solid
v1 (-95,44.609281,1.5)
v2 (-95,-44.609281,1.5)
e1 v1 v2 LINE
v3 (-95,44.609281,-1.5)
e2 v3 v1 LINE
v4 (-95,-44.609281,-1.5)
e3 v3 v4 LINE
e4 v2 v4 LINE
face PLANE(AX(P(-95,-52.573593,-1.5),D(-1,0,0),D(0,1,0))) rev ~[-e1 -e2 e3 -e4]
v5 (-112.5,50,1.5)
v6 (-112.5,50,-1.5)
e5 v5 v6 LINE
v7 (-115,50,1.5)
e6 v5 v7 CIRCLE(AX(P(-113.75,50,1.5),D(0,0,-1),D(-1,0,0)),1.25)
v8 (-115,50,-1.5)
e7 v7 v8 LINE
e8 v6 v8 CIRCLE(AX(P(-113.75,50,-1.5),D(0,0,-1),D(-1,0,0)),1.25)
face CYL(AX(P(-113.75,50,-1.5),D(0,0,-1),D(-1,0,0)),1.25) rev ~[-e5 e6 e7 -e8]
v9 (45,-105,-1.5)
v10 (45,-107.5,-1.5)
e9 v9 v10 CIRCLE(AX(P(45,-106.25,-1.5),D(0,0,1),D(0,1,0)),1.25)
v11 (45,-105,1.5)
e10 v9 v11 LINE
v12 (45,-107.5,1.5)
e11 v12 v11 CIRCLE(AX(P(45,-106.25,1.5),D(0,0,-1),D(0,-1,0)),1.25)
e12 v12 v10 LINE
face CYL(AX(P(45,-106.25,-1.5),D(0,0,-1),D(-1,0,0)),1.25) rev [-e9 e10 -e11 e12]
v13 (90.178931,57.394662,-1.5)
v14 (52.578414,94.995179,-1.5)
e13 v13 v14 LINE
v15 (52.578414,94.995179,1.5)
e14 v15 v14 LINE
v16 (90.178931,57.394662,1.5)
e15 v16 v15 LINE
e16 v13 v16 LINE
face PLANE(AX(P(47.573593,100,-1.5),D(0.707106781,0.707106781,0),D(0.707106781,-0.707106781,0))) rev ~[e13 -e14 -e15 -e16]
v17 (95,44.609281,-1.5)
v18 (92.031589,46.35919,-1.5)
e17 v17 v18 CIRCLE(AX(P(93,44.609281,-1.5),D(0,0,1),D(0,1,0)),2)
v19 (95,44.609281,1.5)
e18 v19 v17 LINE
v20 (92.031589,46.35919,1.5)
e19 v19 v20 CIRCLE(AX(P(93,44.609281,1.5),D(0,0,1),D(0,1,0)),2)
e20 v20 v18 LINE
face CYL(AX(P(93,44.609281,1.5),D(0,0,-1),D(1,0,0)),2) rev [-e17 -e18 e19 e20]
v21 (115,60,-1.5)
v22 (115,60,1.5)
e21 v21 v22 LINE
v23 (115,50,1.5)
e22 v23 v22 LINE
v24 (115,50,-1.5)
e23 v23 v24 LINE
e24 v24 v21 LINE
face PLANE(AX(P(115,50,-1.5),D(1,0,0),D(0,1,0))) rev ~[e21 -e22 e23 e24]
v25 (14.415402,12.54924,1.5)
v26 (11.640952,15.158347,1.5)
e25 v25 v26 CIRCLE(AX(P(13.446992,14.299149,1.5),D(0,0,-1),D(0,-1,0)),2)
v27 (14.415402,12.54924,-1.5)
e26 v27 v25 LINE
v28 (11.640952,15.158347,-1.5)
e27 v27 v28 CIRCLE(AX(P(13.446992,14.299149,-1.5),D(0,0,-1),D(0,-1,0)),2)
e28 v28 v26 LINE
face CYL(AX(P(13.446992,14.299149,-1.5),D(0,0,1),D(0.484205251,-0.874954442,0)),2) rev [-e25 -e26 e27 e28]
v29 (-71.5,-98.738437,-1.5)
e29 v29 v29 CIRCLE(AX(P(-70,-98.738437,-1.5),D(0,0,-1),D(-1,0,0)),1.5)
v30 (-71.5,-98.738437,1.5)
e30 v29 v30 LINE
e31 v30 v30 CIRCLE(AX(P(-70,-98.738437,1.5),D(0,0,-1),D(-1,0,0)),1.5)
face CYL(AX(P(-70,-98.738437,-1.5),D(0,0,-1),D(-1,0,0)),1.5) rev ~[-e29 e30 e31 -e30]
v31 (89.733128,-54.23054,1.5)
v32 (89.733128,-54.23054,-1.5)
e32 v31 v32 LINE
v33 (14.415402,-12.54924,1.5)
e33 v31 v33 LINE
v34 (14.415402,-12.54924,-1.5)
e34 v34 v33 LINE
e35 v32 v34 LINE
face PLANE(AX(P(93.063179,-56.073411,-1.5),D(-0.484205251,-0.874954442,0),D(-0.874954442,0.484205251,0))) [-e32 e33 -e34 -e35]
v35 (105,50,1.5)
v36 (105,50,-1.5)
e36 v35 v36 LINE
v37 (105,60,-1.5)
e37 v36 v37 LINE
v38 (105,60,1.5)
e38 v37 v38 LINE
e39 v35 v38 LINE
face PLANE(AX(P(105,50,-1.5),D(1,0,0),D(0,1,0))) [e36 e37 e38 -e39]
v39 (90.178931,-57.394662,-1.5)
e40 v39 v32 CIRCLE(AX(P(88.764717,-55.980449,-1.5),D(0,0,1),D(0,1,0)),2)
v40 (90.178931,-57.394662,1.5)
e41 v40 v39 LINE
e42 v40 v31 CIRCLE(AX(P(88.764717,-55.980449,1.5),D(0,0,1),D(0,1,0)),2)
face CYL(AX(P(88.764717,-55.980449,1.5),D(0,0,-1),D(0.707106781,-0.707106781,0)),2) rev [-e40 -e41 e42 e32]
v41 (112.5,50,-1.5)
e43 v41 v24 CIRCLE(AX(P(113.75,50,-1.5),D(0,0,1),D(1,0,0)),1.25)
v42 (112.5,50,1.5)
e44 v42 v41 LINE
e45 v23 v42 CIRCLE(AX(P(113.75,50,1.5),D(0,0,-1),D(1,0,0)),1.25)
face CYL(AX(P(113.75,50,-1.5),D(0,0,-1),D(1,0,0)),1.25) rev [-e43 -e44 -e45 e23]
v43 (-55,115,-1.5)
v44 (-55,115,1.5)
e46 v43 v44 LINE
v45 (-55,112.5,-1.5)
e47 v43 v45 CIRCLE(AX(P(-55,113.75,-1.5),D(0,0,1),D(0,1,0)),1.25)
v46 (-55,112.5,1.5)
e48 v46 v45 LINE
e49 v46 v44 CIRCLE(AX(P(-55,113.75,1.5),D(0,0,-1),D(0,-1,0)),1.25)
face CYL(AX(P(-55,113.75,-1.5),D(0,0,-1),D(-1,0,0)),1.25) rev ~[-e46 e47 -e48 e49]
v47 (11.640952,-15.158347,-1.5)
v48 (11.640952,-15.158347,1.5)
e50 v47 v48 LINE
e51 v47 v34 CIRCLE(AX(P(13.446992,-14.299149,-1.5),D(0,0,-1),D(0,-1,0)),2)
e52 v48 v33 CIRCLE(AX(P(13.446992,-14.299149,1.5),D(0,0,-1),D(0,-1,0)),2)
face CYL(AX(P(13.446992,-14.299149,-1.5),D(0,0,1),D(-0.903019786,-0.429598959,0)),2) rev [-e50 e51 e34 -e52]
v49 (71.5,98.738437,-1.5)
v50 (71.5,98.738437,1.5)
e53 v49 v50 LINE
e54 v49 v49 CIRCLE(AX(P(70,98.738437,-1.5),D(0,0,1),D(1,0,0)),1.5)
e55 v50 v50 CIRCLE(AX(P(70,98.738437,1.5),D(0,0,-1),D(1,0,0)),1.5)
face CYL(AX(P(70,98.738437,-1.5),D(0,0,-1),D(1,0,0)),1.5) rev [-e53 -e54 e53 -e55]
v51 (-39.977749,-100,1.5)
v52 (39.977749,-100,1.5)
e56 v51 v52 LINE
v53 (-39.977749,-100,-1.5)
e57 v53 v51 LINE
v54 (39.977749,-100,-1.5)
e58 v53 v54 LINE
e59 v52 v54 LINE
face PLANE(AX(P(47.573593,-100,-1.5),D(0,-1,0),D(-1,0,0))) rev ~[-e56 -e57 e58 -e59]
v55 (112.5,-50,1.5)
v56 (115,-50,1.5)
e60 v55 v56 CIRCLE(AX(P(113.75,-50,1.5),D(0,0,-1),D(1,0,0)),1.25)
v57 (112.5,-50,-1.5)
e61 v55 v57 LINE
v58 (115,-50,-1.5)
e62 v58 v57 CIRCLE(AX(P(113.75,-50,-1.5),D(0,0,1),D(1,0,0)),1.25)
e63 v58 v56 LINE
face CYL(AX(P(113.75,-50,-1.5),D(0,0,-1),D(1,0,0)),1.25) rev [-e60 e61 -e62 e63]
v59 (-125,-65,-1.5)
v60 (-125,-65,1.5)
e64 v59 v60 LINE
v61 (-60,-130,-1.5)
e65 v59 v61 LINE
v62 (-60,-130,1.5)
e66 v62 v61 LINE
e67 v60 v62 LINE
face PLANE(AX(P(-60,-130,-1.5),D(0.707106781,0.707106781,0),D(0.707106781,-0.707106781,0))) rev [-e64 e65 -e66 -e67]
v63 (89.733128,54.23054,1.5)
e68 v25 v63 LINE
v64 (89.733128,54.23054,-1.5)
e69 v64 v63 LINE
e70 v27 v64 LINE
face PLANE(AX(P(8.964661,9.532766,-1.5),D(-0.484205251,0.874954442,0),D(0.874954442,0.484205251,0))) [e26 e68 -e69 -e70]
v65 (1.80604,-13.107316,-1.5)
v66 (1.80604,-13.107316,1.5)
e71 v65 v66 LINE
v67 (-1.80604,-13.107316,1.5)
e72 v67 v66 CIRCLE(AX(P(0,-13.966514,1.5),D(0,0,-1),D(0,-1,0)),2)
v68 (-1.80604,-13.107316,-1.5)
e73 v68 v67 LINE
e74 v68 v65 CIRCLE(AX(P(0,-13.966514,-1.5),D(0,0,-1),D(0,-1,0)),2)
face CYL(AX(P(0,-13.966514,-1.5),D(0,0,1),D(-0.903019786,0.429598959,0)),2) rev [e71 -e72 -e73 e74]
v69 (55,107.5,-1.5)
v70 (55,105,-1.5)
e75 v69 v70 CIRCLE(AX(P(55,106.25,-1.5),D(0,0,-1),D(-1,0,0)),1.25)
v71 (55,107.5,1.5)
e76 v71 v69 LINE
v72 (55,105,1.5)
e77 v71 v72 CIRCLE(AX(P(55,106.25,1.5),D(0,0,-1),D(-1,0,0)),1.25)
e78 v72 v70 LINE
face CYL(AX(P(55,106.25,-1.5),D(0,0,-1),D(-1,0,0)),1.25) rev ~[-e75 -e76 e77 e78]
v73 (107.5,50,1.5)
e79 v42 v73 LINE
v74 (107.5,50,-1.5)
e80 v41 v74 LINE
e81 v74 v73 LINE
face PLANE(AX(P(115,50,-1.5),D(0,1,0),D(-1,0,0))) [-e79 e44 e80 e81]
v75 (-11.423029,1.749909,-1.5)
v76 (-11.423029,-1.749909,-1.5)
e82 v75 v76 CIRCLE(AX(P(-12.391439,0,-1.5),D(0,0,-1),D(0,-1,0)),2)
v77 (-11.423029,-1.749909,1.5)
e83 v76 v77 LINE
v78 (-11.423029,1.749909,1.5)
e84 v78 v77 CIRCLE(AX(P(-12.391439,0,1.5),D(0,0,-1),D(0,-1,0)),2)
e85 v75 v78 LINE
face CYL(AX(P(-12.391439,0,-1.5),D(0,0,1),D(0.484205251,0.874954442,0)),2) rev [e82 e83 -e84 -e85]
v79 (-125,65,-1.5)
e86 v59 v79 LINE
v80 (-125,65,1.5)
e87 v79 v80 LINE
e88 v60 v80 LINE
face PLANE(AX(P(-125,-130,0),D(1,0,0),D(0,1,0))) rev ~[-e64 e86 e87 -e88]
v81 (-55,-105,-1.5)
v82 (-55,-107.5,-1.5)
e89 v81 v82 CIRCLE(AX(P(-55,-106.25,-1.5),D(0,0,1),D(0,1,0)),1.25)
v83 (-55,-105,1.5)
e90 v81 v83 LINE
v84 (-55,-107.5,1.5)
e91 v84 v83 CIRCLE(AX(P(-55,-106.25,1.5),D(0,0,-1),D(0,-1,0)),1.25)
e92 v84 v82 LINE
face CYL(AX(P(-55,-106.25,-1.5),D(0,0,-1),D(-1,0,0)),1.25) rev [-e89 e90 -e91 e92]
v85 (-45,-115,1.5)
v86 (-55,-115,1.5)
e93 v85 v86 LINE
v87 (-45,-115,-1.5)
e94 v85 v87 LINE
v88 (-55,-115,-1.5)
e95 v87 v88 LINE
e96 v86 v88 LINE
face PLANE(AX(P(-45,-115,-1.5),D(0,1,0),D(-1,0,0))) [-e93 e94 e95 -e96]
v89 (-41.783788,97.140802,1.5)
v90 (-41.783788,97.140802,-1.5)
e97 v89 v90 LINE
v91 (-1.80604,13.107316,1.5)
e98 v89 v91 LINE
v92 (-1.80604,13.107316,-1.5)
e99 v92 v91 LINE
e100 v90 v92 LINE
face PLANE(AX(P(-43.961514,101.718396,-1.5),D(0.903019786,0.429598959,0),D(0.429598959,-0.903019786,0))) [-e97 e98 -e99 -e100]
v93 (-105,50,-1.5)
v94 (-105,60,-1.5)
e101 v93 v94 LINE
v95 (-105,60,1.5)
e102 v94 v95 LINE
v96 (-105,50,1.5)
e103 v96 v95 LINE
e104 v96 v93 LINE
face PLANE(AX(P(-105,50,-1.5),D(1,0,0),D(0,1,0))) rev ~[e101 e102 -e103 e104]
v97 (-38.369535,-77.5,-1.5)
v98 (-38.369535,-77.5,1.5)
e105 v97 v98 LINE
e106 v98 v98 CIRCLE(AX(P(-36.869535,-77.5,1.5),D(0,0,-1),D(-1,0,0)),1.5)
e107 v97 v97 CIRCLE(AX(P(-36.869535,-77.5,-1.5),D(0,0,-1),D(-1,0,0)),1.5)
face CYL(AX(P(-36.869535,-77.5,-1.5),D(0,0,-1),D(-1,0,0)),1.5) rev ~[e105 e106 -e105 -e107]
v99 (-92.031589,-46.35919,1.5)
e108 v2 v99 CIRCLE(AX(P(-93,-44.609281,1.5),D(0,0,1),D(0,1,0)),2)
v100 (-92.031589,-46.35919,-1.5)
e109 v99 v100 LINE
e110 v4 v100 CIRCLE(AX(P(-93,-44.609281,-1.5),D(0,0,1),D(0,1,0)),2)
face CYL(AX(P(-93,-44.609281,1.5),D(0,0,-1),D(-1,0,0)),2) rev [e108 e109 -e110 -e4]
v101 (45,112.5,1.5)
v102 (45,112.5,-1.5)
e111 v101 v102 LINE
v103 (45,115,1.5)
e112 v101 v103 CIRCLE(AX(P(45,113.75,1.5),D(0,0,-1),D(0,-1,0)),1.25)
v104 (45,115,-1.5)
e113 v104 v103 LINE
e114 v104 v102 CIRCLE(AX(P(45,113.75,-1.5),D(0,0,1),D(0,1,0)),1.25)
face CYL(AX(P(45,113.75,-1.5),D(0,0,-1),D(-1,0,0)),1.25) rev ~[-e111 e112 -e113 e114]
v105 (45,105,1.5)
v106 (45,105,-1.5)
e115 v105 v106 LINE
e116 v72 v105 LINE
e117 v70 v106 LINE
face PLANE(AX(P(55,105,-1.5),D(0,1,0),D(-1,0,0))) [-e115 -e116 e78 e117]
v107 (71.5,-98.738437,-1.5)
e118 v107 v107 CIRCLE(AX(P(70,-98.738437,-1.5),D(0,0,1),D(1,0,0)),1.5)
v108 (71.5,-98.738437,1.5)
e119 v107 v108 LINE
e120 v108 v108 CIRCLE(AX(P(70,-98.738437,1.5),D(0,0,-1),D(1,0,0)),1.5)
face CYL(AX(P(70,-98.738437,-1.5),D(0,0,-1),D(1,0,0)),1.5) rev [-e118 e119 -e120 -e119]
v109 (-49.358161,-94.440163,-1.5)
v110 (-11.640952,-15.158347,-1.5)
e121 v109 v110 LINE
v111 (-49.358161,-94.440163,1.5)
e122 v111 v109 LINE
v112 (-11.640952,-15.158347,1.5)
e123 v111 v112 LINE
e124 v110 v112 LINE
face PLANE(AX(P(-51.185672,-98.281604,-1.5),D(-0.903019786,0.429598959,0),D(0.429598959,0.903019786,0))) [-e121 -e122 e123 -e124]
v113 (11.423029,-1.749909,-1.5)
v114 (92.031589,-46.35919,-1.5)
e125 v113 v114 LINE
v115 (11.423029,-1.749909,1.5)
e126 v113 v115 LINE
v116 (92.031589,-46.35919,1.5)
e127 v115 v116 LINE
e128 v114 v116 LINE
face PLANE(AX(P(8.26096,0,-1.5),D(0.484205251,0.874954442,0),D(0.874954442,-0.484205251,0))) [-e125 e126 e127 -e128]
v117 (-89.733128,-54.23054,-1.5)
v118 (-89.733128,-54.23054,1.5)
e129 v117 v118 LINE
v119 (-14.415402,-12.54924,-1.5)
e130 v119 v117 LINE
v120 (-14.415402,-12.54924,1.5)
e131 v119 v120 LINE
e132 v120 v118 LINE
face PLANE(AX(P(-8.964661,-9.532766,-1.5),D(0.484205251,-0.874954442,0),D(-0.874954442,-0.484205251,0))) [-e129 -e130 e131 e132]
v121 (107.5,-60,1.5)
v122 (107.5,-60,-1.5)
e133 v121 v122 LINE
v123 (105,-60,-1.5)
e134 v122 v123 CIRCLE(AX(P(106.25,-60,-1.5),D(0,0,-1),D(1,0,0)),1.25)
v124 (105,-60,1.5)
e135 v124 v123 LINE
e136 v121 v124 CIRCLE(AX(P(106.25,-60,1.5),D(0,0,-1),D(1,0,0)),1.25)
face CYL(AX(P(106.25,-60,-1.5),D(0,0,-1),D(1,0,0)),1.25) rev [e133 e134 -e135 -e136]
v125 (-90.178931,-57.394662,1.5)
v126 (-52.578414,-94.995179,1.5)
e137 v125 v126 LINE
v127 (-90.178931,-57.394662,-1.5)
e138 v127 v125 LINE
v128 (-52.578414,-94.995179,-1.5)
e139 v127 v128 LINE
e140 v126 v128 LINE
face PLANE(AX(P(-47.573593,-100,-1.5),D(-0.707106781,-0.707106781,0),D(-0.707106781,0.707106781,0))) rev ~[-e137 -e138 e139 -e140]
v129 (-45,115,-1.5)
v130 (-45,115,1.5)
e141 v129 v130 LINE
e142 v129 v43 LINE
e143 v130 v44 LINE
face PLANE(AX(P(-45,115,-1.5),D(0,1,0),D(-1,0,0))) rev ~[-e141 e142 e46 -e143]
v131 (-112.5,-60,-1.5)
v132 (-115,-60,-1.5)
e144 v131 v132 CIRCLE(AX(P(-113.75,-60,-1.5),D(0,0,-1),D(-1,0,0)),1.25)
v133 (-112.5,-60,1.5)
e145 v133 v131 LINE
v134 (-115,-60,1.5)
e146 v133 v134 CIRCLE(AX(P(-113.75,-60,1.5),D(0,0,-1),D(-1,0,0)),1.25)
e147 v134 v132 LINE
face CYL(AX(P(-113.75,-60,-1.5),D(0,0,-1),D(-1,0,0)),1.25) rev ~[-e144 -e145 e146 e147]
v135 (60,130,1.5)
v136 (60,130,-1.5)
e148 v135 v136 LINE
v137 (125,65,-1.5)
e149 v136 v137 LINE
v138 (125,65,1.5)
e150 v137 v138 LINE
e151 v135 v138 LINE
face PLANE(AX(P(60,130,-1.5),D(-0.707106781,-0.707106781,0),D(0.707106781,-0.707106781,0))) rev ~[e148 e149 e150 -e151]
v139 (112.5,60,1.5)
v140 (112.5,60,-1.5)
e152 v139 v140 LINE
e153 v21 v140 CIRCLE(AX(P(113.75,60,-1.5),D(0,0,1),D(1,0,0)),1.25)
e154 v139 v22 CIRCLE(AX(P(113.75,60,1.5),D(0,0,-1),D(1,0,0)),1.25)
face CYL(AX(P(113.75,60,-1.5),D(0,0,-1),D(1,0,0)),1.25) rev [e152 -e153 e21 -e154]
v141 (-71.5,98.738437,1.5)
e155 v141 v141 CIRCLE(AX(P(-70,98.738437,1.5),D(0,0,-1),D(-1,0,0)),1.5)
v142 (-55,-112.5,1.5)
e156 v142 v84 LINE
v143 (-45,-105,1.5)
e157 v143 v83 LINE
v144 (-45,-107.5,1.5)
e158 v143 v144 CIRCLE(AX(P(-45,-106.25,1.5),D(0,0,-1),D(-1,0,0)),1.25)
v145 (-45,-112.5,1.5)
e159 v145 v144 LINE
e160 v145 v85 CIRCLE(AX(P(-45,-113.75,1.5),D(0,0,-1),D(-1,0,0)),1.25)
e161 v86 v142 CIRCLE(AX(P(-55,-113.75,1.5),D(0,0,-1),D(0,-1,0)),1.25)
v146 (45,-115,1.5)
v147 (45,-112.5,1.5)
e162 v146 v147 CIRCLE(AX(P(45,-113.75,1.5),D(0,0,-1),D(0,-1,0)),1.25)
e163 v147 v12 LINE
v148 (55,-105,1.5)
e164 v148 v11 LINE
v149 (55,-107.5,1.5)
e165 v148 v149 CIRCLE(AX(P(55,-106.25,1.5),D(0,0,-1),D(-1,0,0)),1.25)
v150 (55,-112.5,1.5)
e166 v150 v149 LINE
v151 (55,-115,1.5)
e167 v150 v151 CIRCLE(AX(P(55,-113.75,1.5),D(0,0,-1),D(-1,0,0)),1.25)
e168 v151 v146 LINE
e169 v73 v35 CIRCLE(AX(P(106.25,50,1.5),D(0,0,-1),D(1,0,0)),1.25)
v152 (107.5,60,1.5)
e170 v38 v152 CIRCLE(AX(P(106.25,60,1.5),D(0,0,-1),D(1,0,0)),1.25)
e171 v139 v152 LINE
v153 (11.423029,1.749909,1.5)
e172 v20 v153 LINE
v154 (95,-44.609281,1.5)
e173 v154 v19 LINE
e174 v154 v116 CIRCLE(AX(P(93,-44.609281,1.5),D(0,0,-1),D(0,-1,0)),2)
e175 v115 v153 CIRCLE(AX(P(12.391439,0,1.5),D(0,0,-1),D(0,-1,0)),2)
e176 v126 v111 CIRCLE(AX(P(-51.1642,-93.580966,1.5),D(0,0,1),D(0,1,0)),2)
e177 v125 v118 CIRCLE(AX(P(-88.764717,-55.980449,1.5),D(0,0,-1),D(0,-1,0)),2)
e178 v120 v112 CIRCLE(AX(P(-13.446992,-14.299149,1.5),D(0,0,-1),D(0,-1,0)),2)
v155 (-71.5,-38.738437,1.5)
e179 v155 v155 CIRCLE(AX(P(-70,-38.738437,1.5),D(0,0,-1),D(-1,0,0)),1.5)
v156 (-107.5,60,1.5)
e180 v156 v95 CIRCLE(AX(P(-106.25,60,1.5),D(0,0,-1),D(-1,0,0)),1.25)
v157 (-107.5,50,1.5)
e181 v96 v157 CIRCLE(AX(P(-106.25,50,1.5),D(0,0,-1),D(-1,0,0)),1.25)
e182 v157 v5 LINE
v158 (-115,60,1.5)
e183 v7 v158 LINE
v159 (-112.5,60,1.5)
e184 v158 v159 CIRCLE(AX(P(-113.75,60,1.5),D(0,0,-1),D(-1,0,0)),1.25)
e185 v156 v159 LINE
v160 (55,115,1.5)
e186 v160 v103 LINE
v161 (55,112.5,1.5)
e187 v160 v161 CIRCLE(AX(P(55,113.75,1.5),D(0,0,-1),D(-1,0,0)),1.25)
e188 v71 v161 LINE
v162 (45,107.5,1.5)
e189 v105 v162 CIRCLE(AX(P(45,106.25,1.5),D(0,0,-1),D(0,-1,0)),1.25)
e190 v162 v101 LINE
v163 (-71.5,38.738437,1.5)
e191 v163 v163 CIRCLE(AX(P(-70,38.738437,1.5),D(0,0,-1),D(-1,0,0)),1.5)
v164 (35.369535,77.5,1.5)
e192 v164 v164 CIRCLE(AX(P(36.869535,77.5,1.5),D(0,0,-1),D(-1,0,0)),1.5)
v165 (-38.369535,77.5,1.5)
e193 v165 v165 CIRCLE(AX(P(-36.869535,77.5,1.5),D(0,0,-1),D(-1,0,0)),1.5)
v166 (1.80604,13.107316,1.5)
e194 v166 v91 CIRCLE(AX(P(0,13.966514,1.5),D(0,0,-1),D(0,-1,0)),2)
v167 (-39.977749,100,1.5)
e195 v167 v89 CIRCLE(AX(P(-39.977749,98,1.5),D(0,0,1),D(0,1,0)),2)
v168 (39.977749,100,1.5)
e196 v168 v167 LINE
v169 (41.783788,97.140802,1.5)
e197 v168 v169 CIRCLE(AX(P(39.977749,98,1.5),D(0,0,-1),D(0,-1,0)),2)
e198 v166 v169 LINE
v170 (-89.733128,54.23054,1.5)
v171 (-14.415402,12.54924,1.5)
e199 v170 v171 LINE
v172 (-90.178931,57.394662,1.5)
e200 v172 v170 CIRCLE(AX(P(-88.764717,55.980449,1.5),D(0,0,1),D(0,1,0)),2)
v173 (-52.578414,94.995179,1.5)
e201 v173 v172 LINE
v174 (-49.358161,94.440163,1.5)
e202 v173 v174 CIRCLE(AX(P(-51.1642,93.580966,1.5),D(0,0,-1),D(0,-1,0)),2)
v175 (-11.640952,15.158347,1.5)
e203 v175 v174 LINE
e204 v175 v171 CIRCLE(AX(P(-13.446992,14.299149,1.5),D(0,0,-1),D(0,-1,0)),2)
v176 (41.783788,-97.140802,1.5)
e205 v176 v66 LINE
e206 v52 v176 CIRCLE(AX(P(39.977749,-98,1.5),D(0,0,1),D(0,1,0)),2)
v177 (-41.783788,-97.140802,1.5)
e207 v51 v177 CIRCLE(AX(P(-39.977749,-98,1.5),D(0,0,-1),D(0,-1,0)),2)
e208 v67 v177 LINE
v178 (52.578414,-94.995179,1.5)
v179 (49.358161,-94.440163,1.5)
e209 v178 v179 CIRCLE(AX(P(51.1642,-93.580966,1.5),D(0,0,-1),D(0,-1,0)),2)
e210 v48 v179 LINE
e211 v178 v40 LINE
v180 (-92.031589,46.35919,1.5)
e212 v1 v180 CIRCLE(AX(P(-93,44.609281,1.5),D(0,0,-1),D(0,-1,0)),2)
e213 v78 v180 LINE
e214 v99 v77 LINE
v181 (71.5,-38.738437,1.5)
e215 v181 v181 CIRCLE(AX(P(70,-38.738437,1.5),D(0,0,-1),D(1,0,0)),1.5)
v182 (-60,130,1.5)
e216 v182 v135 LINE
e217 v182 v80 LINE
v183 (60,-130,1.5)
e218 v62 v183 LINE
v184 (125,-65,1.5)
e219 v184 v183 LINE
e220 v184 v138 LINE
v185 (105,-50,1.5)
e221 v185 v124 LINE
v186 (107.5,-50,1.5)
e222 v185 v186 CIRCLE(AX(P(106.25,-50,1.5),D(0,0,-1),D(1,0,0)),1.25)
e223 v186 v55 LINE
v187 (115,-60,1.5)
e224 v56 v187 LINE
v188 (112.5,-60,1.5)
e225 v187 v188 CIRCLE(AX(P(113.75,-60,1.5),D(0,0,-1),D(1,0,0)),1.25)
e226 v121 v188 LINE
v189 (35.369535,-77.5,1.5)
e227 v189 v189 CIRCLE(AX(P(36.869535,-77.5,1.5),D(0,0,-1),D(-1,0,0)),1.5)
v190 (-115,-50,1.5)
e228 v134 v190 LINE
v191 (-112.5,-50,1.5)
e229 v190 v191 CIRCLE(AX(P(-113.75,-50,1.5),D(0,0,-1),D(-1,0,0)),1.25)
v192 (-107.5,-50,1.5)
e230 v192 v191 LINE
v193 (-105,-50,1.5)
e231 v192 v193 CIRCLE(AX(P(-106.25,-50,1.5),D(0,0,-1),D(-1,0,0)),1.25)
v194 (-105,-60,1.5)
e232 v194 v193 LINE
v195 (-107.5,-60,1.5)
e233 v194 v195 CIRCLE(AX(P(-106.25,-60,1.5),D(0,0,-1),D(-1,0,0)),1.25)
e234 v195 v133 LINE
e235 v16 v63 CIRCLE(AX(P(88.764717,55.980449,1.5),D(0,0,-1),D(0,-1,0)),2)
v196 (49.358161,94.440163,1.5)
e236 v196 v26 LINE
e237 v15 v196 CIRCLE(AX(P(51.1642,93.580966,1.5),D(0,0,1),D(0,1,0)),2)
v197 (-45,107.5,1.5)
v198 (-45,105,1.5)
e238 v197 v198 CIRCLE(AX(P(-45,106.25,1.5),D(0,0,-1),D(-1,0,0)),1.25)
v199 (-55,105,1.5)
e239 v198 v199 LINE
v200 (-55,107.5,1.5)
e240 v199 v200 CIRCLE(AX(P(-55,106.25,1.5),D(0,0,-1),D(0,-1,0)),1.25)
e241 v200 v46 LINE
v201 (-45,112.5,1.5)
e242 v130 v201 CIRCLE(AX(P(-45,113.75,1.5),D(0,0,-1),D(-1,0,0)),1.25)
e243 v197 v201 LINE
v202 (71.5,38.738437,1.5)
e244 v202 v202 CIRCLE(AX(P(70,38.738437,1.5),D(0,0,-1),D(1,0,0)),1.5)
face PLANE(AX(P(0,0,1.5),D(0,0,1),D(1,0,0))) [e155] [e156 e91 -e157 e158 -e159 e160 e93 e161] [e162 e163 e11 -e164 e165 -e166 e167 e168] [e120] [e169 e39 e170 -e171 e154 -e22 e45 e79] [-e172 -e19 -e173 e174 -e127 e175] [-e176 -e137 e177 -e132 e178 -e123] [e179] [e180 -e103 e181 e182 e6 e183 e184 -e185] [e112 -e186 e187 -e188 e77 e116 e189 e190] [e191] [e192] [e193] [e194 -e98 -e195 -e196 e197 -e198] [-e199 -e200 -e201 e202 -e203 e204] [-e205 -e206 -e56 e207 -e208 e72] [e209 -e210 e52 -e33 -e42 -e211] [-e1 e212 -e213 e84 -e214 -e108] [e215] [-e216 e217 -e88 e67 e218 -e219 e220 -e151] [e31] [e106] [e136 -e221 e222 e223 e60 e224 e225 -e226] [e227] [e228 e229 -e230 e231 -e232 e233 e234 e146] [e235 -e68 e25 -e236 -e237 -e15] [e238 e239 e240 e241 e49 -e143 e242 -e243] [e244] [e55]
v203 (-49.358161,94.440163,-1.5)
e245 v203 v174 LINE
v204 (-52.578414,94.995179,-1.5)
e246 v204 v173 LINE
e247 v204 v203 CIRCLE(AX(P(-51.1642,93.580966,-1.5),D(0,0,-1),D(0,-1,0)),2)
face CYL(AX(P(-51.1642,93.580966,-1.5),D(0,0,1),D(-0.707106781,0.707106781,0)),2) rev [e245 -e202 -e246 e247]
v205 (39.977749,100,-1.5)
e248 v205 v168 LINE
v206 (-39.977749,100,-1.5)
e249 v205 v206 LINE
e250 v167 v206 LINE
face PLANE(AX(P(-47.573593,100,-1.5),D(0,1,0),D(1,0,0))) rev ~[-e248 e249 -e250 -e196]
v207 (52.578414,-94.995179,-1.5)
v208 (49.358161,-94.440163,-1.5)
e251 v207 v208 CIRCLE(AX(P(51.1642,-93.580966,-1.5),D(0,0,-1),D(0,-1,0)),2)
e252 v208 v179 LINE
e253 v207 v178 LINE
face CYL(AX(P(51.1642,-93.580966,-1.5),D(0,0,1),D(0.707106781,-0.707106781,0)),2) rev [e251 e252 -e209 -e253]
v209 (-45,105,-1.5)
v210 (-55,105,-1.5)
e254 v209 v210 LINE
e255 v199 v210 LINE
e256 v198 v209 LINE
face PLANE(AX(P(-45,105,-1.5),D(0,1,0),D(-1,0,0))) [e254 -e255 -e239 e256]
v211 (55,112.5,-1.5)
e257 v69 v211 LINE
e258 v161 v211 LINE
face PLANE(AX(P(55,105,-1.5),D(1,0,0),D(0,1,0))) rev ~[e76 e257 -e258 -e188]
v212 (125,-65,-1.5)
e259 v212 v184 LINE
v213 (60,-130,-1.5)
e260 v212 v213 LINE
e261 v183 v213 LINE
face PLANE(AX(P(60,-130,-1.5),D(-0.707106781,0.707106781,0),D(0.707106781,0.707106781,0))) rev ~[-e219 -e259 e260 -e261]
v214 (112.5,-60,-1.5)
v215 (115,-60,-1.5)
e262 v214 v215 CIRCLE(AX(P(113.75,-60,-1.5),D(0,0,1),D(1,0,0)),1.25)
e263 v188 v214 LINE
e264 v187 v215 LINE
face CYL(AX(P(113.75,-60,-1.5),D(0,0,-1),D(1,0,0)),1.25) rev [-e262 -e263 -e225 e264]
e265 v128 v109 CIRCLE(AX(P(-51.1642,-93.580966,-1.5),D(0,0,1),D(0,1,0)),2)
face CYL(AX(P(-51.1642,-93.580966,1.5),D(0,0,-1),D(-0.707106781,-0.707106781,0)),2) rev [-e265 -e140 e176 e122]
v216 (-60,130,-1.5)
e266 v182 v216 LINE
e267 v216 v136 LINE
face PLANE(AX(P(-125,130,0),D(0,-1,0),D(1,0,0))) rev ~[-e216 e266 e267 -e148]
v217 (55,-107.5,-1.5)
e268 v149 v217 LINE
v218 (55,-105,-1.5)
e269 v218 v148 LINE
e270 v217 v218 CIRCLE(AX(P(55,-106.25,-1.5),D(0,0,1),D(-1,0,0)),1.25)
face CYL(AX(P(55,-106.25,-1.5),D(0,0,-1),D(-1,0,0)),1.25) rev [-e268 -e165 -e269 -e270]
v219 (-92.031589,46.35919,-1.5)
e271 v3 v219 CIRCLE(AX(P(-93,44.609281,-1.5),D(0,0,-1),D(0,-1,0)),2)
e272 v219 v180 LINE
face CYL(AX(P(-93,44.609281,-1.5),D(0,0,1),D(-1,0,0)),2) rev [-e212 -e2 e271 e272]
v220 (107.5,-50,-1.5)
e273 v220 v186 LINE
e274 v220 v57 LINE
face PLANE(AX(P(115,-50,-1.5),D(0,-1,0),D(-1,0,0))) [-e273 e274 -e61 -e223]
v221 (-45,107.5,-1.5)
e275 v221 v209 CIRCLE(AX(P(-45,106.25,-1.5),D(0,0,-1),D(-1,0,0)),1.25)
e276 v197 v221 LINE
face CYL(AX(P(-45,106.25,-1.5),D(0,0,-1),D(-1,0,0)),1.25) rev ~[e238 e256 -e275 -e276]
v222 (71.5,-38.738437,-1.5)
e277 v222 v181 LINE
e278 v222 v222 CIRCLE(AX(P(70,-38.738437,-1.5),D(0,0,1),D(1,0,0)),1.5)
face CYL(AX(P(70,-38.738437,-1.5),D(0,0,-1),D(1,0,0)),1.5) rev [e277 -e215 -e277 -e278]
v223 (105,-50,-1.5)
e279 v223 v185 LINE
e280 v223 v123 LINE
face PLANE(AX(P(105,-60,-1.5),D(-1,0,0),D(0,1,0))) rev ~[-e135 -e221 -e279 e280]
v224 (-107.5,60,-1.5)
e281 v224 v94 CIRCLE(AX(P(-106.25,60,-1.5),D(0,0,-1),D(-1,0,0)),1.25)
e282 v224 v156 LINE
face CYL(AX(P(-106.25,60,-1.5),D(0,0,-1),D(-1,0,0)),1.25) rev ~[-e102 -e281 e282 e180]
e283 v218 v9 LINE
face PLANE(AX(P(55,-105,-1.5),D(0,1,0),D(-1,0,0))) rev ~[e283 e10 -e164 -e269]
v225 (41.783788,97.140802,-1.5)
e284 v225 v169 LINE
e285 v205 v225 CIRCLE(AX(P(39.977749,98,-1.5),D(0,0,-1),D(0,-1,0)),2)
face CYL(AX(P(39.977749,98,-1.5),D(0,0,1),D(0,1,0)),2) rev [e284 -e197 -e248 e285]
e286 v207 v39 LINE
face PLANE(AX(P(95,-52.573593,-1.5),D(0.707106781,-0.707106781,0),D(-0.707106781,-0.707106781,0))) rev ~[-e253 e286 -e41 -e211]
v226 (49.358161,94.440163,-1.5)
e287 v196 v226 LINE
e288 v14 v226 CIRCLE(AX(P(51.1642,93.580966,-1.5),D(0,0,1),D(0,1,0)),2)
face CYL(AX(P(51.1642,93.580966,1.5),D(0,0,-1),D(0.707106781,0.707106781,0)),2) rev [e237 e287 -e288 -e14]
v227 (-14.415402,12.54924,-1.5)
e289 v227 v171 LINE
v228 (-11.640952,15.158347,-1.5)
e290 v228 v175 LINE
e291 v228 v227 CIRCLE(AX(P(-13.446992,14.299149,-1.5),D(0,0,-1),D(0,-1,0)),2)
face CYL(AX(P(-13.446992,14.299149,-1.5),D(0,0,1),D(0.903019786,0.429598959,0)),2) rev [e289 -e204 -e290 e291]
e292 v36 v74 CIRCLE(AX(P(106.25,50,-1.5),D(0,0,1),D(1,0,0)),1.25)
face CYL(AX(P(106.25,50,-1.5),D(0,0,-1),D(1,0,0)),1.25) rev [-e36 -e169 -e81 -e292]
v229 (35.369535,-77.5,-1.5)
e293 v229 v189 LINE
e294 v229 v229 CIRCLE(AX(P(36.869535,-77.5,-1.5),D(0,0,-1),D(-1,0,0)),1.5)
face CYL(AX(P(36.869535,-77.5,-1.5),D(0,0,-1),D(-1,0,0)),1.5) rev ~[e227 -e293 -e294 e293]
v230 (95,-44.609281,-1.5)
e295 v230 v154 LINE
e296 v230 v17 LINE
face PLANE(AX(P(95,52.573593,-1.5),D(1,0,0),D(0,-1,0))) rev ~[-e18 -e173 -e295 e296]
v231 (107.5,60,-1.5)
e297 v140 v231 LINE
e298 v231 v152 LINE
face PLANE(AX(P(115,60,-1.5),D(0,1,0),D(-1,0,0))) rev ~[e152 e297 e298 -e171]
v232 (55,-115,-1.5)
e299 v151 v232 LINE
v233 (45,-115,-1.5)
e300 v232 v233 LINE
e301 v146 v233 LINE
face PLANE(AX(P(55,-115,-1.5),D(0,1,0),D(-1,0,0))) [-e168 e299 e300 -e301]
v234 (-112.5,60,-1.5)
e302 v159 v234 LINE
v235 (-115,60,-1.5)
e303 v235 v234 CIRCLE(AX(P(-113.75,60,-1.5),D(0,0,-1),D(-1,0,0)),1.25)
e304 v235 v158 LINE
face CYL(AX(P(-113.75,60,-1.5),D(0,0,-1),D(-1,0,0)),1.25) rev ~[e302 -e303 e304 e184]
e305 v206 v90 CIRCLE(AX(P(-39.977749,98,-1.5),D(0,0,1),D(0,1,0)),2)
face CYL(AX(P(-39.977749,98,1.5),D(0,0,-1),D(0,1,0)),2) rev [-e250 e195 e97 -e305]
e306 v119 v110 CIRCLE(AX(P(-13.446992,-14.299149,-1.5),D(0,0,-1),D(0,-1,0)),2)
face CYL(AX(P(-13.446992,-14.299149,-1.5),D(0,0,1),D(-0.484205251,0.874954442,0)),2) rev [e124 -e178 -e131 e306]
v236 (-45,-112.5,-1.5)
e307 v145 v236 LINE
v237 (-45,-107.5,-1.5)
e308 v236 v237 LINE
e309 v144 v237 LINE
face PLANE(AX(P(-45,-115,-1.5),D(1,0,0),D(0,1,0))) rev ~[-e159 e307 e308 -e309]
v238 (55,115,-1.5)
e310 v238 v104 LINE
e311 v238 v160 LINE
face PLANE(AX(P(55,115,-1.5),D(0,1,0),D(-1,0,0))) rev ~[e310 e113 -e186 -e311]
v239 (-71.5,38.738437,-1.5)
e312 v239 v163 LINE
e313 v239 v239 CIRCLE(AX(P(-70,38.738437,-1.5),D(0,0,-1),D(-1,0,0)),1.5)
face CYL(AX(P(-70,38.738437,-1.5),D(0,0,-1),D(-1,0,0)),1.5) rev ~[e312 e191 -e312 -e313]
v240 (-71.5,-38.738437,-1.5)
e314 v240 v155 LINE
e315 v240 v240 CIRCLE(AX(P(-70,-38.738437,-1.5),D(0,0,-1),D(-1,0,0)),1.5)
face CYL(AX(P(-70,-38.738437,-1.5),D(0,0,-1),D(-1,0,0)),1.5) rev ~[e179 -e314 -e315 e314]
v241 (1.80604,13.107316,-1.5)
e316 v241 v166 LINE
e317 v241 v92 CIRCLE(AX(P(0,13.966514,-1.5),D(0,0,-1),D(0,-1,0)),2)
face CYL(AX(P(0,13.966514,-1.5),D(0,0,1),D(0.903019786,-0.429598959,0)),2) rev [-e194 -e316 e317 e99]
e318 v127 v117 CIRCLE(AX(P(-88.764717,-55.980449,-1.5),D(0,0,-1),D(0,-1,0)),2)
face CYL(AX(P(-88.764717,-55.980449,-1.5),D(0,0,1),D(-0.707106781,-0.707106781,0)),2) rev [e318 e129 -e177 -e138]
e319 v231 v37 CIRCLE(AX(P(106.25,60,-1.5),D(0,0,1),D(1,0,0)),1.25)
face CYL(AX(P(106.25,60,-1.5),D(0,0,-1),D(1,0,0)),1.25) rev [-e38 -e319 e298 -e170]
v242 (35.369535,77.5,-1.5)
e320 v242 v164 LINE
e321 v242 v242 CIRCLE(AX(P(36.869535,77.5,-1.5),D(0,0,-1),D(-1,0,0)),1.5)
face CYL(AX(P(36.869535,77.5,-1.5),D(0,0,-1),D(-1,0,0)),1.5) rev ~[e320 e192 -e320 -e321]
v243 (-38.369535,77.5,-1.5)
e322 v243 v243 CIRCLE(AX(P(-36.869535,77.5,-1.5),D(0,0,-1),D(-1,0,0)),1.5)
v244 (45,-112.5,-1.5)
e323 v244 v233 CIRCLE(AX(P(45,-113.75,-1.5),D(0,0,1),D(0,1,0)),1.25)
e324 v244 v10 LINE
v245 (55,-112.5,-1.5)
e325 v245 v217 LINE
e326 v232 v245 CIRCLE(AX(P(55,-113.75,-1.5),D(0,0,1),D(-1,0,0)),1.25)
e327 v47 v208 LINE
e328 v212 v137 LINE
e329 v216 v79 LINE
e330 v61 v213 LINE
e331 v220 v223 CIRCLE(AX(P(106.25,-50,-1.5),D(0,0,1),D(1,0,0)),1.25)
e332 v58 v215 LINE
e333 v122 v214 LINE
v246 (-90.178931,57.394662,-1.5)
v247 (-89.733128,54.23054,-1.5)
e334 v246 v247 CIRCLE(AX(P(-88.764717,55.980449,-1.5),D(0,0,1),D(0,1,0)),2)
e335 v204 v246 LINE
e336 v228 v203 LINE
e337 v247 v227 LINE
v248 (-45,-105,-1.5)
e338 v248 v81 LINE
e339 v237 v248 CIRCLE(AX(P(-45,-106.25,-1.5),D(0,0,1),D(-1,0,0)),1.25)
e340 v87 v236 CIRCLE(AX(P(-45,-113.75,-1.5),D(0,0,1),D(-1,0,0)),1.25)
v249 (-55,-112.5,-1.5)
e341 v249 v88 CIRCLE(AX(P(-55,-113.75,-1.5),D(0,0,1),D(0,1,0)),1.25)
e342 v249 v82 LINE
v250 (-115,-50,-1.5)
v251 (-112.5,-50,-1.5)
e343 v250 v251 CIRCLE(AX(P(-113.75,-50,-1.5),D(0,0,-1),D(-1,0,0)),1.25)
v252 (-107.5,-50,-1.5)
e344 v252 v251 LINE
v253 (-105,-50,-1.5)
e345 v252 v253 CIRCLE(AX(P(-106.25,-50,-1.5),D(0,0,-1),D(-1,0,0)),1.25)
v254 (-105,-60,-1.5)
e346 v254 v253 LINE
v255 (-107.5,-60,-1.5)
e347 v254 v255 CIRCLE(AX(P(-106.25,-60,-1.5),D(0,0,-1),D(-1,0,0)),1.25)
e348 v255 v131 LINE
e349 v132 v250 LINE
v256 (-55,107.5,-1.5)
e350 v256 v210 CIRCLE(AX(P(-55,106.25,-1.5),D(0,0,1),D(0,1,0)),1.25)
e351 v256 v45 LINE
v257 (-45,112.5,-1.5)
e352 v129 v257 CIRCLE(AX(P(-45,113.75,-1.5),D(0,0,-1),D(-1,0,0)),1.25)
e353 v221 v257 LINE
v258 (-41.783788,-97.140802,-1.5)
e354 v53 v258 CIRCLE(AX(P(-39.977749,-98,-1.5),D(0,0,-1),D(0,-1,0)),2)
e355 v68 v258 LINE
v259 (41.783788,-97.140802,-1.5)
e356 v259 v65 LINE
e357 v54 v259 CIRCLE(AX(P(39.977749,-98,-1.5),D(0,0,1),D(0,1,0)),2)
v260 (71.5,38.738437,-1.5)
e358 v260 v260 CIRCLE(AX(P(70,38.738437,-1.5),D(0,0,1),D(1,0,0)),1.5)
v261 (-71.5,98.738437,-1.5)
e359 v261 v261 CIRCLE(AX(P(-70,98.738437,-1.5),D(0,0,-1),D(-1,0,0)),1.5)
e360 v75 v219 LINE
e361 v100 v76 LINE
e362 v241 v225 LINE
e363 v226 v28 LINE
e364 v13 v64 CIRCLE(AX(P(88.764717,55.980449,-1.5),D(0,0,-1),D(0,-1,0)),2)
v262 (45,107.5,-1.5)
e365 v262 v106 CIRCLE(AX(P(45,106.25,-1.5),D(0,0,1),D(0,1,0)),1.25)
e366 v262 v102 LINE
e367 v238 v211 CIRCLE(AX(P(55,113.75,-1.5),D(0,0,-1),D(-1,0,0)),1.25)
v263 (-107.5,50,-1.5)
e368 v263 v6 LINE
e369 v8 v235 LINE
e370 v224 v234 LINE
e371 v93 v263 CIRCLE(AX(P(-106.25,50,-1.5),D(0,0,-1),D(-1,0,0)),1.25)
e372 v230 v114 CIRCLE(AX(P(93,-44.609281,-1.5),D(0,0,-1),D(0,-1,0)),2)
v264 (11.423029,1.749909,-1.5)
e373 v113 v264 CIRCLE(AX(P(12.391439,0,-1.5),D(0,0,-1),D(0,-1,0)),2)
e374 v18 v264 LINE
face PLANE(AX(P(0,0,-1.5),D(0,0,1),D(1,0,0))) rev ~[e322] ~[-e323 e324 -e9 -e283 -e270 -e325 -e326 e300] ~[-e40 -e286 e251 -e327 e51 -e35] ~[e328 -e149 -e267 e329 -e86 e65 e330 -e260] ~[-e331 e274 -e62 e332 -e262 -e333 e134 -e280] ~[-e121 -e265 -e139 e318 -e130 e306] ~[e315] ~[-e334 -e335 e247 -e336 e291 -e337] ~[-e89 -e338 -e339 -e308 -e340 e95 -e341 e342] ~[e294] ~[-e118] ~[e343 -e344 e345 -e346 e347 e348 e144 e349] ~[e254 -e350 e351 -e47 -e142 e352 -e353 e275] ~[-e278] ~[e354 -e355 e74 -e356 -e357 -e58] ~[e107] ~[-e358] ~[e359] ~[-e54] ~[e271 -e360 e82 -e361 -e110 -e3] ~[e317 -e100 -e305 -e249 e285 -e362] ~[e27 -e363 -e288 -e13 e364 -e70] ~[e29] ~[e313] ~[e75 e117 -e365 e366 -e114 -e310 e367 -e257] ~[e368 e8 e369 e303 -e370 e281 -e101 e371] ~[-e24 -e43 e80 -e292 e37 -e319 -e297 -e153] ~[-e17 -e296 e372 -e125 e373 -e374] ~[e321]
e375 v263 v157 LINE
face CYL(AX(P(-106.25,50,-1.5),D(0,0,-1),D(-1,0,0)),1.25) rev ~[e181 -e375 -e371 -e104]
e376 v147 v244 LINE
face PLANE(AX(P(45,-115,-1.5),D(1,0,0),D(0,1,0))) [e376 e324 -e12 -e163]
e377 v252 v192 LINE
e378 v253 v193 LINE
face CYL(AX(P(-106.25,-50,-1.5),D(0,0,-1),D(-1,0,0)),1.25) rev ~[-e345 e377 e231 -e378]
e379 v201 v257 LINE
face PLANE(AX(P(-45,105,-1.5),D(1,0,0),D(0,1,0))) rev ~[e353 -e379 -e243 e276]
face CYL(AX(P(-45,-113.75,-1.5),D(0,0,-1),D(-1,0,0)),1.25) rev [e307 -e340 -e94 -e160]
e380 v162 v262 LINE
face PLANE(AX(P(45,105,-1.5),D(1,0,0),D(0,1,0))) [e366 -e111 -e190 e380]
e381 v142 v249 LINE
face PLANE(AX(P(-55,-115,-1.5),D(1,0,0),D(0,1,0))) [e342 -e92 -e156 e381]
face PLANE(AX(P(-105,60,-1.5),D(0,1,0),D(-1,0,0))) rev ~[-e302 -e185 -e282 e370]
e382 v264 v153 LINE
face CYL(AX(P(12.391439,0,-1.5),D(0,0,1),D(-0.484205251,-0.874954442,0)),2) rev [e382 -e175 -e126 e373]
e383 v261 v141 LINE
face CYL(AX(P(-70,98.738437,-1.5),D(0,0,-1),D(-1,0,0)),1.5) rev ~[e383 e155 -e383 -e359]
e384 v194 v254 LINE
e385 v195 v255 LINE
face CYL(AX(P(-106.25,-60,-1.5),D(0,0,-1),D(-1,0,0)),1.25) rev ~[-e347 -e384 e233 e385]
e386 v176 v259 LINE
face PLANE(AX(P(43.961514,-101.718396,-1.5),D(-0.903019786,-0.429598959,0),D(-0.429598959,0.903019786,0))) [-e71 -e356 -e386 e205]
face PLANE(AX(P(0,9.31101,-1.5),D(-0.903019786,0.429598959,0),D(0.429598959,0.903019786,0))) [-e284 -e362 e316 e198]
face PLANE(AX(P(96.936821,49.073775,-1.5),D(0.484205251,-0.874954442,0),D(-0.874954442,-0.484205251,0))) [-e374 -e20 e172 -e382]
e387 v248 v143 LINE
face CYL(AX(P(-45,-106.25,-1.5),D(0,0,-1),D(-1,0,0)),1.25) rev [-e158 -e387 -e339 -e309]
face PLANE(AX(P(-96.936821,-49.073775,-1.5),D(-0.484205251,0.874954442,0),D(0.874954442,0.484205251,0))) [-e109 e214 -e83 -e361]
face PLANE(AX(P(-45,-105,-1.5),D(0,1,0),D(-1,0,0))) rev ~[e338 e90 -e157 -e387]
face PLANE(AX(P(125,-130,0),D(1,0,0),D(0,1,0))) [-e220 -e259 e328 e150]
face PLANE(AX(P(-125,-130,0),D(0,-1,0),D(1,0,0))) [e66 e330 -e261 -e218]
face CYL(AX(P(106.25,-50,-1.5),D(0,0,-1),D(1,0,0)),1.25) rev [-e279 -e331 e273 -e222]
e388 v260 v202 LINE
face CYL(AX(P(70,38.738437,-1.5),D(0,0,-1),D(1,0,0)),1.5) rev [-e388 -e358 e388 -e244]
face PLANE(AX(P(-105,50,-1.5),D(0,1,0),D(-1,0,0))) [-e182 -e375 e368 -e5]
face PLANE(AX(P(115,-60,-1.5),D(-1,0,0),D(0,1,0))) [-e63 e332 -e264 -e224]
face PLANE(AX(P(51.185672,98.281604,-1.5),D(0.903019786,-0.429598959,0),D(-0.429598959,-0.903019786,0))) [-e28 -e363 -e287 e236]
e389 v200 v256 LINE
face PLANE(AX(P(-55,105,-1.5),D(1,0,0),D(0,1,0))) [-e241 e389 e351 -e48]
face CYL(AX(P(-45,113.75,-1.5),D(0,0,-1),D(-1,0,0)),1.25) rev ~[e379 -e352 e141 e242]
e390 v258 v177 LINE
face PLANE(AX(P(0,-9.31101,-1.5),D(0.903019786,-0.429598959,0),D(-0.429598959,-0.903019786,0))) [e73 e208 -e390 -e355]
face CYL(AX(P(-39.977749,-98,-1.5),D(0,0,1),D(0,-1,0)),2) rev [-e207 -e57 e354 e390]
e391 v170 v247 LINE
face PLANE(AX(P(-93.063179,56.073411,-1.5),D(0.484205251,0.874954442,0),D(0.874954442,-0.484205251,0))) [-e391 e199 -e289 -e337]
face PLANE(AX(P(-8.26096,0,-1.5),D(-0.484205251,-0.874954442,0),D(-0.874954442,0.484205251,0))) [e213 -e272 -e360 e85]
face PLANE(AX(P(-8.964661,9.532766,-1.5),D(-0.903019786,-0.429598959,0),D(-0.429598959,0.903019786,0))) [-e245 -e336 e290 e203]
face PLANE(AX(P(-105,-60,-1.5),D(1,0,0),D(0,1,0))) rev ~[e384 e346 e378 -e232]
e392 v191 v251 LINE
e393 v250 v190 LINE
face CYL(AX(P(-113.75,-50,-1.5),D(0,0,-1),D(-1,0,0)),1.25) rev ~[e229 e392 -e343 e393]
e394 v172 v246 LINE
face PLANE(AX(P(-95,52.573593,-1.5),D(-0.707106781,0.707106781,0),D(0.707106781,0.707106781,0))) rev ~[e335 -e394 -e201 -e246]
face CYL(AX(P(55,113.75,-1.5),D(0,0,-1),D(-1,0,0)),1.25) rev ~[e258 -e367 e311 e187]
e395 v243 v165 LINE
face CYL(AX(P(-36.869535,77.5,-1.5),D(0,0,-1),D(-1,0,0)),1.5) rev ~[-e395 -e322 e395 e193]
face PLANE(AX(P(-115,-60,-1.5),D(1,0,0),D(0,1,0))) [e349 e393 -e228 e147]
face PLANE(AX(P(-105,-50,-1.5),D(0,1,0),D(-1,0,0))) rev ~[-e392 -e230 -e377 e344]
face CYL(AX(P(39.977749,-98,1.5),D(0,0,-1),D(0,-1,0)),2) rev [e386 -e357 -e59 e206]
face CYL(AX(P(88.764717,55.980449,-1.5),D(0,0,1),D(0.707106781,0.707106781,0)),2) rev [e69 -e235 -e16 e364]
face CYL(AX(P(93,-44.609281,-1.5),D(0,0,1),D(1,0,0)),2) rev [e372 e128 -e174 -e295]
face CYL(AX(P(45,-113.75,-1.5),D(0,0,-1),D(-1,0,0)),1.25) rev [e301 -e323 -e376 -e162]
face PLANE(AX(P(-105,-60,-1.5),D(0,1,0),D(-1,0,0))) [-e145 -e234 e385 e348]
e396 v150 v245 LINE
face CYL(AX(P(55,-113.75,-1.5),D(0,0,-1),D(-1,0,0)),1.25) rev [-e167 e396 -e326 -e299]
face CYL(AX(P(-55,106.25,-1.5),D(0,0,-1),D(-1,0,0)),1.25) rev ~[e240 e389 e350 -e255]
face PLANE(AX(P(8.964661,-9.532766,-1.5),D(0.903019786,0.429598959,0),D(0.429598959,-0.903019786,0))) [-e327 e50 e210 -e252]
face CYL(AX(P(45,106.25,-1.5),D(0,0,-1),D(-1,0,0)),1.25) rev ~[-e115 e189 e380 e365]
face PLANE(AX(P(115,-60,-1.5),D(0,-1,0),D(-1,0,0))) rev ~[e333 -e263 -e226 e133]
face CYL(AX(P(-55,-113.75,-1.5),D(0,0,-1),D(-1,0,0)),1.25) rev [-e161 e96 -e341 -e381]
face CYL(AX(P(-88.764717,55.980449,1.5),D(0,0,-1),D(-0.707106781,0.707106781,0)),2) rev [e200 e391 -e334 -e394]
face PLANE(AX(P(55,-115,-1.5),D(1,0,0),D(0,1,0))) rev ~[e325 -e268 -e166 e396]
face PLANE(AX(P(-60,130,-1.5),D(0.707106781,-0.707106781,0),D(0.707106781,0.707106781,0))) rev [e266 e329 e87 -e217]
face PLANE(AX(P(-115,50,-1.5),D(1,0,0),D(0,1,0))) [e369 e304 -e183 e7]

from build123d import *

# Parameters (mm, degrees)
SKETCH_1_W          = 250
SKETCH_1_H          = 260
EXTRUDE_1_DEPTH     = 1.5
SKETCH_2_W          = 10
SKETCH_2_H          = 10
CUT_EXTRUDE_1_DEPTH = 5
SKETCH_3_R          = 1.25
CUT_EXTRUDE_2_DEPTH = 5
SKETCH_4_R          = 1.25
CUT_EXTRUDE_3_DEPTH = 5
CUT_EXTRUDE_4_DEPTH = 5
CUT_EXTRUDE_5_DEPTH = 5
EXTRUDE_2_DEPTH     = 3
SKETCH_9_R          = 1.5
CUT_EXTRUDE_7_DEPTH = 10
FILLET_1_R          = 2
SKETCH_10_R         = 1.5
CUT_EXTRUDE_8_DEPTH = 10


with BuildPart() as part:
    # 草图1 → 凸台-拉伸1 (new, symmetric)
    with BuildSketch(Plane.XY):
        Rectangle(SKETCH_1_W, SKETCH_1_H)
    extrude(amount=EXTRUDE_1_DEPTH, both=True)

    # 草图2 → 切除-拉伸1 (cut, symmetric)
    with BuildSketch(Plane(origin=(0, 0, -1.5), x_dir=(-1, 0, 0), z_dir=(0, 0, -1))):
        with Locations((50, -110)):
            Rectangle(SKETCH_2_W, SKETCH_2_H)
        with Locations((-50, 110)):
            Rectangle(SKETCH_2_W, SKETCH_2_H)
        with Locations((50, 110)):
            Rectangle(SKETCH_2_W, SKETCH_2_H)
        with Locations((110, 55)):
            Rectangle(SKETCH_2_W, SKETCH_2_H)
        with Locations((110, -55)):
            Rectangle(SKETCH_2_W, SKETCH_2_H)
        with Locations((-50, -110)):
            Rectangle(SKETCH_2_W, SKETCH_2_H)
        with Locations((-110, 55)):
            Rectangle(SKETCH_2_W, SKETCH_2_H)
        with Locations((-110, -55)):
            Rectangle(SKETCH_2_W, SKETCH_2_H)
    extrude(amount=CUT_EXTRUDE_1_DEPTH, both=True, mode=Mode.SUBTRACT)

    # 草图3 → 切除-拉伸2 (cut, symmetric)
    with BuildSketch(Plane(origin=(0, 0, -1.5), x_dir=(-1, 0, 0), z_dir=(0, 0, -1))):
        with Locations((-55, 113.75)):
            Circle(SKETCH_3_R)
        with Locations((-55, 106.25)):
            Circle(SKETCH_3_R)
        with Locations((-45, 106.25)):
            Circle(SKETCH_3_R)
        with Locations((-45, 113.75)):
            Circle(SKETCH_3_R)
        with Locations((45, 113.75)):
            Circle(SKETCH_3_R)
        with Locations((45, 106.25)):
            Circle(SKETCH_3_R)
        with Locations((55, 106.25)):
            Circle(SKETCH_3_R)
        with Locations((55, 113.75)):
            Circle(SKETCH_3_R)
    cut_extrude_2 = extrude(amount=CUT_EXTRUDE_2_DEPTH, both=True, mode=Mode.SUBTRACT)

    # 草图4 → 切除-拉伸3 (cut, symmetric)
    with BuildSketch(Plane(origin=(0, 0, -1.5), x_dir=(-1, 0, 0), z_dir=(0, 0, -1))):
        with Locations((106.25, 60)):
            Circle(SKETCH_4_R)
        with Locations((113.75, 60)):
            Circle(SKETCH_4_R)
        with Locations((106.25, 50)):
            Circle(SKETCH_4_R)
        with Locations((113.75, 50)):
            Circle(SKETCH_4_R)
        with Locations((113.75, -50)):
            Circle(SKETCH_4_R)
        with Locations((106.25, -50)):
            Circle(SKETCH_4_R)
        with Locations((113.75, -60)):
            Circle(SKETCH_4_R)
        with Locations((106.25, -60)):
            Circle(SKETCH_4_R)
    cut_extrude_3 = extrude(amount=CUT_EXTRUDE_3_DEPTH, both=True, mode=Mode.SUBTRACT)

    # 镜向1: 切除-拉伸3 across plane
    add(cut_extrude_3.mirror(Plane(origin=(0, 0, 0), x_dir=(0, 0, 1), z_dir=(1, 0, 0))), mode=Mode.SUBTRACT)

    # 镜向2: 切除-拉伸2 across plane
    add(cut_extrude_2.mirror(Plane.ZX), mode=Mode.SUBTRACT)

    # 草图5 → 切除-拉伸4 (cut, symmetric)
    with BuildSketch(Plane(origin=(0, 0, -1.5), x_dir=(-1, 0, 0), z_dir=(0, 0, -1))):
        Polygon((-60, 130), (-125, 65), (-125, 130), align=None)
        Polygon((-125, -130), (-60, -130), (-125, -65), align=None)
    cut_extrude_4 = extrude(amount=CUT_EXTRUDE_4_DEPTH, both=True, mode=Mode.SUBTRACT)

    # 镜向3: 切除-拉伸4 across plane
    add(cut_extrude_4.mirror(Plane(origin=(0, 0, 0), x_dir=(0, 0, 1), z_dir=(1, 0, 0))), mode=Mode.SUBTRACT)

    # 草图6 → 切除-拉伸5 (cut, symmetric)
    with BuildSketch(Plane(origin=(0, 0, -1.5), x_dir=(-1, 0, 0), z_dir=(0, 0, -1))):
        Polygon((95, -52.573593129), (95, 52.573593129), (47.573593129, 100), (-47.573593129, 100), (-95, 52.573593129), (-95, -52.573593129), (-47.573593129, -100), (47.573593129, -100), align=None)
    extrude(amount=CUT_EXTRUDE_5_DEPTH, both=True, mode=Mode.SUBTRACT)

    # 草图7 → 凸台-拉伸2 (add)
    with BuildSketch(Plane(origin=(0, 0, -1.5), x_dir=(-1, 0, 0), z_dir=(0, 0, -1))):
        Polygon((-51.185672274, 98.281604164), (-8.964661116, 9.532766034), (-93.063178997, 56.073410896), (-96.936821003, 49.073775362), (-8.260959569, 0), (-96.936821003, -49.073775362), (-93.063178997, -56.073410896), (-8.964661116, -9.532766034), (-51.185672274, -98.281604164), (-43.961513984, -101.718395836), (0, -9.311009527), (43.961513984, -101.718395836), (51.185672274, -98.281604164), (8.964661116, -9.532766034), (93.063178997, -56.073410896), (96.936821003, -49.073775362), (8.260959569, 0), (96.936821003, 49.073775362), (93.063178997, 56.073410896), (8.964661116, 9.532766034), (51.185672274, 98.281604164), (43.961513984, 101.718395836), (0, 9.311009527), (-43.961513984, 101.718395836), align=None)
    extrude(amount=-EXTRUDE_2_DEPTH)

    # 草图9 → 切除-拉伸7 (cut)
    with BuildSketch(Plane(origin=(0, 0, -1.5), x_dir=(-1, 0, 0), z_dir=(0, 0, -1))):
        with Locations((70, 38.738437042)):
            Circle(SKETCH_9_R)
        with Locations((70, 98.738437042)):
            Circle(SKETCH_9_R)
        with Locations((70, -98.738437042)):
            Circle(SKETCH_9_R)
        with Locations((70, -38.738437042)):
            Circle(SKETCH_9_R)
    cut_extrude_7 = extrude(amount=-CUT_EXTRUDE_7_DEPTH, mode=Mode.SUBTRACT)

    # 镜向4: 切除-拉伸7 across plane
    add(cut_extrude_7.mirror(Plane(origin=(0, 0, 0), x_dir=(0, 0, 1), z_dir=(1, 0, 0))), mode=Mode.SUBTRACT)

    # 圆角1
    fillet_1_edges = [part.edges().sort_by_distance(p)[0] for p in [
        (-95, -48.001926526, 0),
        (-95, 48.001926526, 0),
        (-92.057005132, 55.516587997, 0),
        (-50.575201814, 96.998391315, 0),
        (-43.14401134, 100, 0),
        (43.14401134, 100, 0),
        (50.575201814, 96.998391315, 0),
        (92.057005132, 55.516587997, 0),
        (95, 48.001926526, 0),
        (95, -48.001926526, 0),
        (92.057005132, -55.516587997, 0),
        (50.575201814, -96.998391315, 0),
        (43.14401134, -100, 0),
        (-43.14401134, -100, 0),
        (-50.575201814, -96.998391315, 0),
        (-92.057005132, -55.516587997, 0),
        (-8.964661116, -9.532766034, 0),
        (0, -9.311009527, 0),
        (8.964661116, -9.532766034, 0),
        (8.260959569, 0, 0),
        (8.964661116, 9.532766034, 0),
        (0, 9.311009527, 0),
        (-8.964661116, 9.532766034, 0),
        (-8.260959569, 0, 0),
    ]]
    fillet(fillet_1_edges, radius=FILLET_1_R)

    # 草图10 → 切除-拉伸8 (cut)
    with BuildSketch(Plane(origin=(0, 0, -1.5), x_dir=(-1, 0, 0), z_dir=(0, 0, -1))):
        with Locations((36.869534675, 77.5)):
            Circle(SKETCH_10_R)
        with Locations((-36.869534675, 77.5)):
            Circle(SKETCH_10_R)
        with Locations((-36.869534675, -77.5)):
            Circle(SKETCH_10_R)
        with Locations((36.869534675, -77.5)):
            Circle(SKETCH_10_R)
    extrude(amount=-CUT_EXTRUDE_8_DEPTH, mode=Mode.SUBTRACT)


solid = part.part
